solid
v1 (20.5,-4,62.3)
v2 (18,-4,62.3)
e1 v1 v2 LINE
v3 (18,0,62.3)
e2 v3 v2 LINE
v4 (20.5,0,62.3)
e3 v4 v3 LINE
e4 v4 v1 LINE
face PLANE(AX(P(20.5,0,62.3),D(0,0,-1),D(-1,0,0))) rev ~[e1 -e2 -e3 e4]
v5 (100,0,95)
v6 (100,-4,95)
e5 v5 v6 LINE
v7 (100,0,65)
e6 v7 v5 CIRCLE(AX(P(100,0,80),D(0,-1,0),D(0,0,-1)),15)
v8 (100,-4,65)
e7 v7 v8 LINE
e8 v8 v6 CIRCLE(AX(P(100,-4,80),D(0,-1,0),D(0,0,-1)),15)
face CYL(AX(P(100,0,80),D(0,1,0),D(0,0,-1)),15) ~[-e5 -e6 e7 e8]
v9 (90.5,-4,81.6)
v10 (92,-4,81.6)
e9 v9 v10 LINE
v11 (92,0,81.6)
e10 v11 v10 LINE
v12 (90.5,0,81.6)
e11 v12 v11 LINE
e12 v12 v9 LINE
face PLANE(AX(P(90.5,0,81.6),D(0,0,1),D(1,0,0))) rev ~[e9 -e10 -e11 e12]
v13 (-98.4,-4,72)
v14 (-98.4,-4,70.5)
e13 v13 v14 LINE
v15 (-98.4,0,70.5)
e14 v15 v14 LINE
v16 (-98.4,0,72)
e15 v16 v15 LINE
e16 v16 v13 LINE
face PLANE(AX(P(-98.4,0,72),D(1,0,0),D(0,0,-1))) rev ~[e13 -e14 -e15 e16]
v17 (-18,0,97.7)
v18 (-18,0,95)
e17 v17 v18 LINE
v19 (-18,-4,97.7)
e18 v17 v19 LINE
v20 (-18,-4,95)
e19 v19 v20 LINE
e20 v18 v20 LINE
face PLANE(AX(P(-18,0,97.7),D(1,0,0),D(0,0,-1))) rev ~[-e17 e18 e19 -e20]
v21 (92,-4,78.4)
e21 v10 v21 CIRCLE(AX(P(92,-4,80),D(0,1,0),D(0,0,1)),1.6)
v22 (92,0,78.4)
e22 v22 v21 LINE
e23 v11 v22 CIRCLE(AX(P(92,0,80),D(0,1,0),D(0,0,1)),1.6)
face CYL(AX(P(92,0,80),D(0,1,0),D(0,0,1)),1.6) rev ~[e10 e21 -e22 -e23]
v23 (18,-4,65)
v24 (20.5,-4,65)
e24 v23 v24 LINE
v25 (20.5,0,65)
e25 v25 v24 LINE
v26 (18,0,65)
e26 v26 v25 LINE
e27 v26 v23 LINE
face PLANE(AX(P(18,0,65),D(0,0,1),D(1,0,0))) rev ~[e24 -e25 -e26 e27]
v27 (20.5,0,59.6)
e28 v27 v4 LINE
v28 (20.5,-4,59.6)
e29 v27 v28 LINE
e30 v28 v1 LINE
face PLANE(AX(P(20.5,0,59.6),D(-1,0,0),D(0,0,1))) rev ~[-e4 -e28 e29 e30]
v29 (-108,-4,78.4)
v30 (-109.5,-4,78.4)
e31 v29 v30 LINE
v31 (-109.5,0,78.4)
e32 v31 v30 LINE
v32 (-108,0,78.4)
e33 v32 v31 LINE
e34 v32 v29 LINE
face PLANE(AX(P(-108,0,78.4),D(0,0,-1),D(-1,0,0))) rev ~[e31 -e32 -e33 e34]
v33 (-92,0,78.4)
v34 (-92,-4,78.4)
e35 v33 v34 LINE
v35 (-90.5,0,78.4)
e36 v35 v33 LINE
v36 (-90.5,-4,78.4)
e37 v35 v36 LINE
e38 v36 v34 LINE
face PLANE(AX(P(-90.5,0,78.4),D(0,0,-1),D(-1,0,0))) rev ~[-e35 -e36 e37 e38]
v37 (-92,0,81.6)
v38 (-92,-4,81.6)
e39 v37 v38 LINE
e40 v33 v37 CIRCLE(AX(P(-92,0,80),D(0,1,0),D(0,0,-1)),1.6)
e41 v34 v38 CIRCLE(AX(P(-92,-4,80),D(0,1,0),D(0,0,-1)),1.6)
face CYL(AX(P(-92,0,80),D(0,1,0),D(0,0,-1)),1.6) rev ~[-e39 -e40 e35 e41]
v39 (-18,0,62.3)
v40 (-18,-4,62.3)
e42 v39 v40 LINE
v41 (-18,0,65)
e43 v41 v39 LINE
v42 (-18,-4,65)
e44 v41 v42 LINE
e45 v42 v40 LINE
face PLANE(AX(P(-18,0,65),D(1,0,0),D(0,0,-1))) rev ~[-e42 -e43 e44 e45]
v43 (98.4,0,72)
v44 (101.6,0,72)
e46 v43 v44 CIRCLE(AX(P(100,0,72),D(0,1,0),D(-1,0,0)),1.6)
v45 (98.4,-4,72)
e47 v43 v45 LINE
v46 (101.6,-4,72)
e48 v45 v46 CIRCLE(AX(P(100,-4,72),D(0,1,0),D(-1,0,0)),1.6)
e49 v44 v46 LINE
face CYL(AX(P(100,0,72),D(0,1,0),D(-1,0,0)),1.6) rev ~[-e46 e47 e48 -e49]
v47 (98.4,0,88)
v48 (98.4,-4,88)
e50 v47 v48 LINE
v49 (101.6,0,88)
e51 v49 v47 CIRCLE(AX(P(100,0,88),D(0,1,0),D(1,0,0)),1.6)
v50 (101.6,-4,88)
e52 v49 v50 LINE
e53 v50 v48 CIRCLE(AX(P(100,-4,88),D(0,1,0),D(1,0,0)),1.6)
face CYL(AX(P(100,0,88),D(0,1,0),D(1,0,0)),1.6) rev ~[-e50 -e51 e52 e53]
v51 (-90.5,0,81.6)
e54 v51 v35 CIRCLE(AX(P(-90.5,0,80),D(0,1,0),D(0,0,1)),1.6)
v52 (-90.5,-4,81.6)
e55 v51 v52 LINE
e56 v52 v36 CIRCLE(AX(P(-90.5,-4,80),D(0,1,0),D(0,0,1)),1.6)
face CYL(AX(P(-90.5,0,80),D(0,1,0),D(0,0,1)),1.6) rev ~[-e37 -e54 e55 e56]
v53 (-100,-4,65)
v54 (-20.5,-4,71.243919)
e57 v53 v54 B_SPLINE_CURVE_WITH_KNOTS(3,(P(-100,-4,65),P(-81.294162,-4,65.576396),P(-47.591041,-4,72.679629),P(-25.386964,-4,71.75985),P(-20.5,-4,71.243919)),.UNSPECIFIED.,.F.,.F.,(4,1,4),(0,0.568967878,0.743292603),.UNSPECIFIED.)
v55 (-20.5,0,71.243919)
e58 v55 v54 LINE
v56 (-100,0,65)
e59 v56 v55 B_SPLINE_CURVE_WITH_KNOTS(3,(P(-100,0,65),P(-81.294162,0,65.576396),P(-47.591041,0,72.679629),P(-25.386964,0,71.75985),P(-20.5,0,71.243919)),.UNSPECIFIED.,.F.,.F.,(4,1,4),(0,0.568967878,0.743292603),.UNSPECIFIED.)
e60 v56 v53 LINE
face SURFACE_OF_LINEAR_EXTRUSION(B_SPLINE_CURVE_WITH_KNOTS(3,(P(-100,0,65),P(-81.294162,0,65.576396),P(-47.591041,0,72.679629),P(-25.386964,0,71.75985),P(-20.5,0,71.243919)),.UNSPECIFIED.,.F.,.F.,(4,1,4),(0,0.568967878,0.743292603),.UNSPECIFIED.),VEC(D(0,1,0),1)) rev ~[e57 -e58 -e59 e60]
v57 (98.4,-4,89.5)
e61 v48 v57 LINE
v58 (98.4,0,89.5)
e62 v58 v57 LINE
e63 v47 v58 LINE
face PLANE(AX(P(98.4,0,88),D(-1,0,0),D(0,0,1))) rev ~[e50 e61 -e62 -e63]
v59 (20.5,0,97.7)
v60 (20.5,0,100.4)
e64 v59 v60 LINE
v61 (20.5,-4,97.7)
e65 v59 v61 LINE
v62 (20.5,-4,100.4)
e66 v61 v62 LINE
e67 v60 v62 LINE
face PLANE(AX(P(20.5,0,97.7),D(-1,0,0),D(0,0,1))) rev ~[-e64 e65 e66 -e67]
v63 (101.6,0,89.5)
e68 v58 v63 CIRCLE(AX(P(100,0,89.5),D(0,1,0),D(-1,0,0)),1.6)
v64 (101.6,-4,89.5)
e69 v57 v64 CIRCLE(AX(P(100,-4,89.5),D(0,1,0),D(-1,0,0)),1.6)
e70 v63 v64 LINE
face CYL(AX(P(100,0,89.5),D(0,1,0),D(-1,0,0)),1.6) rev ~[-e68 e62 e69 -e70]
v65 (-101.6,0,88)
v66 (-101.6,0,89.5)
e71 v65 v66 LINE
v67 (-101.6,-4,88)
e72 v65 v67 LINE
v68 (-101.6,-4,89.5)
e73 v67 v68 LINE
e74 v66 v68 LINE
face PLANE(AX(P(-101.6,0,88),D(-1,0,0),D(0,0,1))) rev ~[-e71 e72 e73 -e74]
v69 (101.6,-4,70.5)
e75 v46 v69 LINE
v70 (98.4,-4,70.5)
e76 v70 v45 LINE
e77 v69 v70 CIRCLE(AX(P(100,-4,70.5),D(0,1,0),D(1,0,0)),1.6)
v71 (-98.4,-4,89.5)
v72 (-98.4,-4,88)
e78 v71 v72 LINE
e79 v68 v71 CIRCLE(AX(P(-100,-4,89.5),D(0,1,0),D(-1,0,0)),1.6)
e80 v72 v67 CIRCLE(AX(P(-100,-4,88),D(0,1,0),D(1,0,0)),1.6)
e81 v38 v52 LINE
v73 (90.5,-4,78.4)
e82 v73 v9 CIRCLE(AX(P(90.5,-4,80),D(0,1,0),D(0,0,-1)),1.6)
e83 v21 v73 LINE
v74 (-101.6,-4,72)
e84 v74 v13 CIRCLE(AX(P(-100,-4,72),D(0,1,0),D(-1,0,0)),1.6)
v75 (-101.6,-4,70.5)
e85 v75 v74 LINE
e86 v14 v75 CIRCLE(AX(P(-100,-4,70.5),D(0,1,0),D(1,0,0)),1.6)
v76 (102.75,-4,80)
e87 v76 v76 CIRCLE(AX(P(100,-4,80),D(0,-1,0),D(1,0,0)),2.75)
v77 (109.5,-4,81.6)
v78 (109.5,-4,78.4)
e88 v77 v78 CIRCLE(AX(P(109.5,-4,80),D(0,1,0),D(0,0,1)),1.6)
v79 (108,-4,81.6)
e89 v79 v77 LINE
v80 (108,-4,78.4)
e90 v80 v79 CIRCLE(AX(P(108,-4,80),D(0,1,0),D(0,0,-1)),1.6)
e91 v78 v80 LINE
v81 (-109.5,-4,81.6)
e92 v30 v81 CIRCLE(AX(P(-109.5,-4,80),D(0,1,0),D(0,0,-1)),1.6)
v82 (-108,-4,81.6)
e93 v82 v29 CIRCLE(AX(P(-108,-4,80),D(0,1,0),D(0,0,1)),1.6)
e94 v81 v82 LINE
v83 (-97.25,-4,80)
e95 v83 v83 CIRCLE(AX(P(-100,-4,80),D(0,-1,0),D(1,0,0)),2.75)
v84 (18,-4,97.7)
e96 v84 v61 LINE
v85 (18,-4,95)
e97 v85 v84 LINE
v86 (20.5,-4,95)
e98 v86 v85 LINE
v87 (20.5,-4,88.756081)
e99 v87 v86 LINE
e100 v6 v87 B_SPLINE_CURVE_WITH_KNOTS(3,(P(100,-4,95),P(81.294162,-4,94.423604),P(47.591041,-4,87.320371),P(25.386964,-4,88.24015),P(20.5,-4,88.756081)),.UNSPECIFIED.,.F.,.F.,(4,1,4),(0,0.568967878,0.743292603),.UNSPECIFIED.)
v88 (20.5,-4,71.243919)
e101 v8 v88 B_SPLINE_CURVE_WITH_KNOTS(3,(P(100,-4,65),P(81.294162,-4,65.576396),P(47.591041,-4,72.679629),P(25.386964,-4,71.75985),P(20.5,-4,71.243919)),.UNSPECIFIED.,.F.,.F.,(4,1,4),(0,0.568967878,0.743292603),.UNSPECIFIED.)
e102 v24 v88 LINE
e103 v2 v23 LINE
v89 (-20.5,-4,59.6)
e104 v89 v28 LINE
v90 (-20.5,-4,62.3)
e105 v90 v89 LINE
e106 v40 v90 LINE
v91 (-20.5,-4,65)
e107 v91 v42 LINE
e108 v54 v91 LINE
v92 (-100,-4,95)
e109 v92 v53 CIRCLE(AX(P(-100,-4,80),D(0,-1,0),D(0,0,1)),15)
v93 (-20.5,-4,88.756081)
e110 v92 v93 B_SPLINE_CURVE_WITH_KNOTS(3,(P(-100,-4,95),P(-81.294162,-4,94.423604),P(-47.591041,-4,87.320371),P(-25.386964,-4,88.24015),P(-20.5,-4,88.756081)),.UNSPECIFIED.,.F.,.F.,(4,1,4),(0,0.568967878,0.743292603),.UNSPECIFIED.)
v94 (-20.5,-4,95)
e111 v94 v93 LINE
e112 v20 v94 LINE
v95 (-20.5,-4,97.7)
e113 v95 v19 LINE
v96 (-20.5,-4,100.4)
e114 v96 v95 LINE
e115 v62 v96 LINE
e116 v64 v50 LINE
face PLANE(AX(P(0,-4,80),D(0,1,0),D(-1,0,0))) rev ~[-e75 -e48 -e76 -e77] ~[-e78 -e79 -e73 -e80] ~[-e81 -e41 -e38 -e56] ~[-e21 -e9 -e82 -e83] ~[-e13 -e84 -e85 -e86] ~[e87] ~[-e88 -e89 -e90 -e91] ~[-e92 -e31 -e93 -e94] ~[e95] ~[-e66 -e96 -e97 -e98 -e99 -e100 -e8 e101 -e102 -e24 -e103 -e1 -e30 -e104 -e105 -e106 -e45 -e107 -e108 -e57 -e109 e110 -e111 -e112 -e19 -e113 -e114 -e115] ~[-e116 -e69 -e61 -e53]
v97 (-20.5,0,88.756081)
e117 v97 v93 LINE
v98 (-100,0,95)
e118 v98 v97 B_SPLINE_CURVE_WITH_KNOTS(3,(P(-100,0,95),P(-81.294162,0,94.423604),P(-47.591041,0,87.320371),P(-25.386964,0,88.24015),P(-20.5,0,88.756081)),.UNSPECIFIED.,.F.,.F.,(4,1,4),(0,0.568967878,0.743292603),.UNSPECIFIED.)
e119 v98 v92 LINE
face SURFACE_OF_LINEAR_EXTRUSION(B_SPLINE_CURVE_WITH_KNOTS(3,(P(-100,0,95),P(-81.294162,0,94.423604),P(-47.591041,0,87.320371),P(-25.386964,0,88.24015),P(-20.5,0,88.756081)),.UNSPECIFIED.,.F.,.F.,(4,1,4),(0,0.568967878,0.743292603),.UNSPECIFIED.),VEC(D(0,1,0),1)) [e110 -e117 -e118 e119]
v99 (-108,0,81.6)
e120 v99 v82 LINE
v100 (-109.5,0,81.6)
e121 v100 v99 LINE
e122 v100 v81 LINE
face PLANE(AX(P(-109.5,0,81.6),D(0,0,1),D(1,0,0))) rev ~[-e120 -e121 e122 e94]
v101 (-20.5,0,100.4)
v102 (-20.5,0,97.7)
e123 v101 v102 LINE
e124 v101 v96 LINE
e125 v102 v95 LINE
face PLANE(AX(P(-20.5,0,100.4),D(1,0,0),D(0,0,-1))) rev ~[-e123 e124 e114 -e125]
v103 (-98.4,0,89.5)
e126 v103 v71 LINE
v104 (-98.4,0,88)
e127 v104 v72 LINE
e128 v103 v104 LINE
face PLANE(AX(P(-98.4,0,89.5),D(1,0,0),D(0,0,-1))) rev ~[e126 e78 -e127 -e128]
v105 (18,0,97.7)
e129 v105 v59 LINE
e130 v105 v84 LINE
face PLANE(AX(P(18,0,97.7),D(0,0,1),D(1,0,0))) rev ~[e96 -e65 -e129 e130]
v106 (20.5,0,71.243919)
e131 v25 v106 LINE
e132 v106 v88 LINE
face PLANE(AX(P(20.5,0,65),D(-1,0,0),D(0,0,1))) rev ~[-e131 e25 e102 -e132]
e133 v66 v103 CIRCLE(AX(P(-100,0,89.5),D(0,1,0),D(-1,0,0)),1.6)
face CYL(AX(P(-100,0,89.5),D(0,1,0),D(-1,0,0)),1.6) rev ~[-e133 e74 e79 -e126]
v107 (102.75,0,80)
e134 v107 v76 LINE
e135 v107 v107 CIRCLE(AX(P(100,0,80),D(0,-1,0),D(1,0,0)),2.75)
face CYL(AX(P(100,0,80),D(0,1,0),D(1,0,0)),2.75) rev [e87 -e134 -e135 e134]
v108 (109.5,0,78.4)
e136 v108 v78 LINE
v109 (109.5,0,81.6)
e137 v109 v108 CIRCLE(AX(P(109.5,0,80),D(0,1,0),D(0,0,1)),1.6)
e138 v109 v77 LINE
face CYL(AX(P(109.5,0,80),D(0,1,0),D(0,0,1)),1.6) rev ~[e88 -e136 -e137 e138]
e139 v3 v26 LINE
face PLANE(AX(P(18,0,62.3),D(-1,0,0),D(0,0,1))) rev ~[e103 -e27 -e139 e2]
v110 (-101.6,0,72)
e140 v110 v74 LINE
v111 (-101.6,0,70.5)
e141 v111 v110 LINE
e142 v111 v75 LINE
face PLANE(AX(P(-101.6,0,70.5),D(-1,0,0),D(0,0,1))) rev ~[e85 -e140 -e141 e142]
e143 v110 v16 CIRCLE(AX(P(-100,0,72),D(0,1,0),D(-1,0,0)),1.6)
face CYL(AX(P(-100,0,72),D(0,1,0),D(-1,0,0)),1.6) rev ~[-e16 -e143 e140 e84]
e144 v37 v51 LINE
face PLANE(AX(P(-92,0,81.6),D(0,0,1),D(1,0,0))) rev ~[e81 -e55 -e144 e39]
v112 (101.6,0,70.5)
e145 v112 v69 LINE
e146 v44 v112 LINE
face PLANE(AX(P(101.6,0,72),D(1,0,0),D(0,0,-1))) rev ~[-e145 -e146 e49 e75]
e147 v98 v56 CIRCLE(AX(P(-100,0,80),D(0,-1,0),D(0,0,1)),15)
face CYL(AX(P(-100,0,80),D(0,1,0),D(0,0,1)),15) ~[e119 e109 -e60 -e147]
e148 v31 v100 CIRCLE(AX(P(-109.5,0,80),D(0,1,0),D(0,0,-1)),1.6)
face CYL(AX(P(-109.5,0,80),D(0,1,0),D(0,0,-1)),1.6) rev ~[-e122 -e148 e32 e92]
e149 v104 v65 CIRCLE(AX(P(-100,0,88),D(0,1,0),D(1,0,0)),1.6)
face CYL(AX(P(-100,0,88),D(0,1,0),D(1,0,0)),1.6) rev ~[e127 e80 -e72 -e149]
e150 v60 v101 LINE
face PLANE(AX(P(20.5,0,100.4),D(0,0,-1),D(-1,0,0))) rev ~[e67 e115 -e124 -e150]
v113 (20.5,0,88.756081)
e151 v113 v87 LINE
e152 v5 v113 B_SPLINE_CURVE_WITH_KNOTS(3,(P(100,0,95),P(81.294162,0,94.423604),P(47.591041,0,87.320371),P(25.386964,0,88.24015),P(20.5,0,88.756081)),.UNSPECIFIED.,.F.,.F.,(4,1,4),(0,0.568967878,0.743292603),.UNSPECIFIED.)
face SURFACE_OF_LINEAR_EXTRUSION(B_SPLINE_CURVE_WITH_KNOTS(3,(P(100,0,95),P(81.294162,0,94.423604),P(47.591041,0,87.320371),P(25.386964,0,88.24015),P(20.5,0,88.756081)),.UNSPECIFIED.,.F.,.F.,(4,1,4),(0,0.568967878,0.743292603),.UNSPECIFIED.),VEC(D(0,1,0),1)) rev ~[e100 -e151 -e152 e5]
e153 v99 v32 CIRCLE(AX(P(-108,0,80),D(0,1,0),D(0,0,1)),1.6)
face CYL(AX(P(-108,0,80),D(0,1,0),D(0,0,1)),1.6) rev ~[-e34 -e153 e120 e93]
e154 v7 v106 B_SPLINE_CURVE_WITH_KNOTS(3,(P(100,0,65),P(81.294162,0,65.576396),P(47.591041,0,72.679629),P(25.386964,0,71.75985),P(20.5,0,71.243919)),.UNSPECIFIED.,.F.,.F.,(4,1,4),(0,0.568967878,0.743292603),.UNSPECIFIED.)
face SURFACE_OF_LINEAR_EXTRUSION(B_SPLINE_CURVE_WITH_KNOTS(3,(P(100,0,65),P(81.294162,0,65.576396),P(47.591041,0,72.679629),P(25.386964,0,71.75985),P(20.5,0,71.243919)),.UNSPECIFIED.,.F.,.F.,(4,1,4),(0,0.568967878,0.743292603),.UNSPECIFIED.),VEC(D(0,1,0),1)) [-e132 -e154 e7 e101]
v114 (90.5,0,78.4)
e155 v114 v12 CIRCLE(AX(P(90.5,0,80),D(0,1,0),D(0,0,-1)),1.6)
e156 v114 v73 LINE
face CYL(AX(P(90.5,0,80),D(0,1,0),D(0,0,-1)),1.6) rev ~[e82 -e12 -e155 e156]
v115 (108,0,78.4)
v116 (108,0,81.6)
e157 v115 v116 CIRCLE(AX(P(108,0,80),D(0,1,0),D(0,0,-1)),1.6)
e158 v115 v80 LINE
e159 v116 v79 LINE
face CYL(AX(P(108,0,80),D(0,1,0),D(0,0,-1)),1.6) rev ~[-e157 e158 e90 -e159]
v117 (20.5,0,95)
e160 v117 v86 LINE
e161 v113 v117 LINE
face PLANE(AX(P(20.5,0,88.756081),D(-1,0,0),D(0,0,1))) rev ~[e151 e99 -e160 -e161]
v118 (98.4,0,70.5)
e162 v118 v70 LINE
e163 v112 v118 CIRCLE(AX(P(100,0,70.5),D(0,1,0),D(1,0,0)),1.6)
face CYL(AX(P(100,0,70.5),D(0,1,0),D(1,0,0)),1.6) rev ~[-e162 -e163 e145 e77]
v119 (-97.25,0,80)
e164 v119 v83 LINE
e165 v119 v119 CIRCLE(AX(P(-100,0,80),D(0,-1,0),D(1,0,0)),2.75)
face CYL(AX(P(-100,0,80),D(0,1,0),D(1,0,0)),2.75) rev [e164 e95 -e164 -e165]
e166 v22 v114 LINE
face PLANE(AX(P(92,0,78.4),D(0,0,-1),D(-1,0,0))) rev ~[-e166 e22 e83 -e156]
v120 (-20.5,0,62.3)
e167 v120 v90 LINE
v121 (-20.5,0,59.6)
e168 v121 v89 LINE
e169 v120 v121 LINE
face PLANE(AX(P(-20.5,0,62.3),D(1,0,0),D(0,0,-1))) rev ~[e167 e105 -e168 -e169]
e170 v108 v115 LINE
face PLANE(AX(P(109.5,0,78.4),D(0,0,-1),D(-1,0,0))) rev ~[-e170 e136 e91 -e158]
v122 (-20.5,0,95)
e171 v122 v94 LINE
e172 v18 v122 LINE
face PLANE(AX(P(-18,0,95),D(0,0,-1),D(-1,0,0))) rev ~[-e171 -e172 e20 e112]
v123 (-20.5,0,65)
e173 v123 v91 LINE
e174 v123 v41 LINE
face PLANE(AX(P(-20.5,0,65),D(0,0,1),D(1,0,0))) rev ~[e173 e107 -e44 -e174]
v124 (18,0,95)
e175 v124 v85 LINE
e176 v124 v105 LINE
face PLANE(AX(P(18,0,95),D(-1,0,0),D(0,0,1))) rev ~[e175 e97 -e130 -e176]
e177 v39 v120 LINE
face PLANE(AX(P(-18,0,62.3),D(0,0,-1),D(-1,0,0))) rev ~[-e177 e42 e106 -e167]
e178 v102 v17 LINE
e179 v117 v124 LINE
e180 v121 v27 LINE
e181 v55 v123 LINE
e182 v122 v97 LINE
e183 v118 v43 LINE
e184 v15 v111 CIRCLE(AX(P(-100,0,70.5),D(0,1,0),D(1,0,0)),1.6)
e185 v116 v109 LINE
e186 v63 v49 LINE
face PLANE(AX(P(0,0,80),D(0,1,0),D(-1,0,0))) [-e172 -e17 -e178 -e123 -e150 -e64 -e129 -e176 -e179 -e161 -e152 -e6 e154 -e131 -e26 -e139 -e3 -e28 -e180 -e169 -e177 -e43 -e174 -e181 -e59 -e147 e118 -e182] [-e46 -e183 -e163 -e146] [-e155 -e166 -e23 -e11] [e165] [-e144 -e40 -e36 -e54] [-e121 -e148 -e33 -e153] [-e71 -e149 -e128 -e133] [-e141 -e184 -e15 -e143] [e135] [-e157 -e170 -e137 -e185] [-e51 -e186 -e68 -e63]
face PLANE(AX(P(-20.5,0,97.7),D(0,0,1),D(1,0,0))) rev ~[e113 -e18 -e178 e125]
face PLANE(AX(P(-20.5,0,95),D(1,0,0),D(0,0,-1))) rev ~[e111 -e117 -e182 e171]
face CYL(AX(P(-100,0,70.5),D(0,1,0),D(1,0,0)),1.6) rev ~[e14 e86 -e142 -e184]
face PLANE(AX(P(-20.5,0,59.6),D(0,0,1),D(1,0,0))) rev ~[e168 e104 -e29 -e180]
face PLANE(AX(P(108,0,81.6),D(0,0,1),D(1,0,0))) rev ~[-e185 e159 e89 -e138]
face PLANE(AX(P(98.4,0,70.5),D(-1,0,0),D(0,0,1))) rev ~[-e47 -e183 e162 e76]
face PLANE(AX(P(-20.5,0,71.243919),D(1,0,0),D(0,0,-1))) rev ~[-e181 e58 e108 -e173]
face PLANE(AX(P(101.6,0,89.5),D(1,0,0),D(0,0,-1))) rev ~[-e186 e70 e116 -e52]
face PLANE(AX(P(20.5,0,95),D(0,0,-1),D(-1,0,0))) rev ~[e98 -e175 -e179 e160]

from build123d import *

# Parameters (mm, degrees)
F0_R     = 2.75
F1_DEPTH = 4


with BuildPart() as f1:
    # F0 (on Front) → F1 (new body)
    with BuildSketch(Plane.XZ):
        with BuildLine():
            add(Edge.make_bspline(
                [(-100, 95), (-81.2941622631, 94.4236036805), (-47.5910411734, 87.3203708431), (-25.3869639524, 88.2401502703), (-20.5, 88.75608063)],
                knots=[0, 0, 0, 0, 0.5689678783, 0.7432926029, 0.7432926029, 0.7432926029, 0.7432926029], degree=3))
            ThreePointArc((-100, 95), (-115, 80), (-100, 65))
            add(Edge.make_bspline(
                [(-100, 65), (-81.2941622631, 65.5763963195), (-47.5910411734, 72.6796291569), (-25.3869639524, 71.7598497297), (-20.5, 71.24391937)],
                knots=[0, 0, 0, 0, 0.5689678783, 0.7432926029, 0.7432926029, 0.7432926029, 0.7432926029], degree=3))
            add(Edge.make_bspline(
                [(-20.5, 71.24391937), (-19.6576755147, 71.1549928343), (-18.8248746074, 71.0571473907), (-18, 70.9511054936)],
                knots=[0.7432926029, 0.7432926029, 0.7432926029, 0.7432926029, 0.7733394757, 0.7733394757, 0.7733394757, 0.7733394757], degree=3))
            add(Edge.make_bspline(
                [(-18, 70.9511054936), (-11.7775051442, 70.1511715966), (-6.006059288, 68.884815508), (0, 67.4621646617)],
                knots=[0.7733394757, 0.7733394757, 0.7733394757, 0.7733394757, 1, 1, 1, 1], degree=3))
            add(Edge.make_bspline(
                [(18, 70.9511054936), (11.7775051442, 70.1511715966), (6.006059288, 68.884815508), (0, 67.4621646617)],
                knots=[0.7733394757, 0.7733394757, 0.7733394757, 0.7733394757, 1, 1, 1, 1], degree=3))
            add(Edge.make_bspline(
                [(20.5, 71.24391937), (19.6576755147, 71.1549928343), (18.8248746074, 71.0571473907), (18, 70.9511054936)],
                knots=[0.7432926029, 0.7432926029, 0.7432926029, 0.7432926029, 0.7733394757, 0.7733394757, 0.7733394757, 0.7733394757], degree=3))
            add(Edge.make_bspline(
                [(100, 65), (81.2941622631, 65.5763963195), (47.5910411734, 72.6796291569), (25.3869639524, 71.7598497297), (20.5, 71.24391937)],
                knots=[0, 0, 0, 0, 0.5689678783, 0.7432926029, 0.7432926029, 0.7432926029, 0.7432926029], degree=3))
            ThreePointArc((100, 65), (115, 80), (100, 95))
            add(Edge.make_bspline(
                [(100, 95), (81.2941622631, 94.4236036805), (47.5910411734, 87.3203708431), (25.3869639524, 88.2401502703), (20.5, 88.75608063)],
                knots=[0, 0, 0, 0, 0.5689678783, 0.7432926029, 0.7432926029, 0.7432926029, 0.7432926029], degree=3))
            add(Edge.make_bspline(
                [(20.5, 88.75608063), (19.6576755147, 88.8450071657), (18.8248746074, 88.9428526093), (18, 89.0488945064)],
                knots=[0.7432926029, 0.7432926029, 0.7432926029, 0.7432926029, 0.7733394757, 0.7733394757, 0.7733394757, 0.7733394757], degree=3))
            add(Edge.make_bspline(
                [(18, 89.0488945064), (11.7775051442, 89.8488284034), (6.006059288, 91.115184492), (0, 92.5378353383)],
                knots=[0.7733394757, 0.7733394757, 0.7733394757, 0.7733394757, 1, 1, 1, 1], degree=3))
            add(Edge.make_bspline(
                [(-18, 89.0488945064), (-11.7775051442, 89.8488284034), (-6.006059288, 91.115184492), (0, 92.5378353383)],
                knots=[0.7733394757, 0.7733394757, 0.7733394757, 0.7733394757, 1, 1, 1, 1], degree=3))
            add(Edge.make_bspline(
                [(-20.5, 88.75608063), (-19.6576755147, 88.8450071657), (-18.8248746074, 88.9428526093), (-18, 89.0488945064)],
                knots=[0.7432926029, 0.7432926029, 0.7432926029, 0.7432926029, 0.7733394757, 0.7733394757, 0.7733394757, 0.7733394757], degree=3))
        make_face()
        with BuildLine():
            Line((-98.4, 72), (-98.4, 70.5))
            ThreePointArc((-98.4, 70.5), (-100, 68.9), (-101.6, 70.5))
            Line((-101.6, 70.5), (-101.6, 72))
            ThreePointArc((-101.6, 72), (-100, 73.6), (-98.4, 72))
        make_face(mode=Mode.SUBTRACT)
        with BuildLine():
            ThreePointArc((-109.5, 78.4), (-111.1, 80), (-109.5, 81.6))
            Line((-109.5, 81.6), (-108, 81.6))
            ThreePointArc((-108, 81.6), (-106.4, 80), (-108, 78.4))
            Line((-108, 78.4), (-109.5, 78.4))
        make_face(mode=Mode.SUBTRACT)
        with Locations((-100, 80)):
            Circle(F0_R, mode=Mode.SUBTRACT)
        with BuildLine():
            Line((-90.5, 78.4), (-92, 78.4))
            ThreePointArc((-92, 78.4), (-93.6, 80), (-92, 81.6))
            Line((-92, 81.6), (-90.5, 81.6))
            ThreePointArc((-90.5, 81.6), (-88.9, 80), (-90.5, 78.4))
        make_face(mode=Mode.SUBTRACT)
        with BuildLine():
            Line((101.6, 72), (101.6, 70.5))
            ThreePointArc((101.6, 70.5), (100, 68.9), (98.4, 70.5))
            Line((98.4, 70.5), (98.4, 72))
            ThreePointArc((98.4, 72), (100, 73.6), (101.6, 72))
        make_face(mode=Mode.SUBTRACT)
        with BuildLine():
            ThreePointArc((90.5, 78.4), (88.9, 80), (90.5, 81.6))
            Line((90.5, 81.6), (92, 81.6))
            ThreePointArc((92, 81.6), (93.6, 80), (92, 78.4))
            Line((92, 78.4), (90.5, 78.4))
        make_face(mode=Mode.SUBTRACT)
        with Locations((100, 80)):
            Circle(F0_R, mode=Mode.SUBTRACT)
        with BuildLine():
            Line((109.5, 78.4), (108, 78.4))
            ThreePointArc((108, 78.4), (106.4, 80), (108, 81.6))
            Line((108, 81.6), (109.5, 81.6))
            ThreePointArc((109.5, 81.6), (111.1, 80), (109.5, 78.4))
        make_face(mode=Mode.SUBTRACT)
        with BuildLine():
            ThreePointArc((-101.6, 89.5), (-100, 91.1), (-98.4, 89.5))
            Line((-98.4, 89.5), (-98.4, 88))
            ThreePointArc((-98.4, 88), (-100, 86.4), (-101.6, 88))
            Line((-101.6, 88), (-101.6, 89.5))
        make_face(mode=Mode.SUBTRACT)
        with BuildLine():
            Line((98.4, 88), (98.4, 89.5))
            ThreePointArc((98.4, 89.5), (100, 91.1), (101.6, 89.5))
            Line((101.6, 89.5), (101.6, 88))
            ThreePointArc((101.6, 88), (100, 86.4), (98.4, 88))
        make_face(mode=Mode.SUBTRACT)
        with BuildLine():
            Line((-20.5, 95), (-20.5, 88.75608063))
            add(Edge.make_bspline(
                [(-20.5, 88.75608063), (-19.6576755147, 88.8450071657), (-18.8248746074, 88.9428526093), (-18, 89.0488945064)],
                knots=[0.7432926029, 0.7432926029, 0.7432926029, 0.7432926029, 0.7733394757, 0.7733394757, 0.7733394757, 0.7733394757], degree=3))
            Line((-18, 89.0488945064), (-18, 95))
            Line((-18, 95), (-20.5, 95))
        make_face()
        with BuildLine():
            add(Edge.make_bspline(
                [(-20.5, 71.24391937), (-19.6576755147, 71.1549928343), (-18.8248746074, 71.0571473907), (-18, 70.9511054936)],
                knots=[0.7432926029, 0.7432926029, 0.7432926029, 0.7432926029, 0.7733394757, 0.7733394757, 0.7733394757, 0.7733394757], degree=3))
            Line((-20.5, 71.24391937), (-20.5, 65))
            Line((-20.5, 65), (-18, 65))
            Line((-18, 65), (-18, 70.9511054936))
        make_face()
        with BuildLine():
            Line((-18, 95), (-18, 89.0488945064))
            add(Edge.make_bspline(
                [(-18, 89.0488945064), (-11.7775051442, 89.8488284034), (-6.006059288, 91.115184492), (0, 92.5378353383)],
                knots=[0.7733394757, 0.7733394757, 0.7733394757, 0.7733394757, 1, 1, 1, 1], degree=3))
            add(Edge.make_bspline(
                [(18, 89.0488945064), (11.7775051442, 89.8488284034), (6.006059288, 91.115184492), (0, 92.5378353383)],
                knots=[0.7733394757, 0.7733394757, 0.7733394757, 0.7733394757, 1, 1, 1, 1], degree=3))
            Line((18, 89.0488945064), (18, 95))
            Line((18, 95), (18, 97.7))
            Line((18, 97.7), (20.5, 97.7))
            Line((20.5, 97.7), (20.5, 100.4))
            Line((20.5, 100.4), (-20.5, 100.4))
            Line((-20.5, 100.4), (-20.5, 97.7))
            Line((-20.5, 97.7), (-18, 97.7))
            Line((-18, 97.7), (-18, 95))
        make_face()
        with BuildLine():
            add(Edge.make_bspline(
                [(-18, 70.9511054936), (-11.7775051442, 70.1511715966), (-6.006059288, 68.884815508), (0, 67.4621646617)],
                knots=[0.7733394757, 0.7733394757, 0.7733394757, 0.7733394757, 1, 1, 1, 1], degree=3))
            Line((-18, 70.9511054936), (-18, 65))
            Line((-18, 65), (-18, 62.3))
            Line((-18, 62.3), (-20.5, 62.3))
            Line((-20.5, 62.3), (-20.5, 59.6))
            Line((-20.5, 59.6), (20.5, 59.6))
            Line((20.5, 59.6), (20.5, 62.3))
            Line((20.5, 62.3), (18, 62.3))
            Line((18, 62.3), (18, 65))
            Line((18, 65), (18, 70.9511054936))
            add(Edge.make_bspline(
                [(18, 70.9511054936), (11.7775051442, 70.1511715966), (6.006059288, 68.884815508), (0, 67.4621646617)],
                knots=[0.7733394757, 0.7733394757, 0.7733394757, 0.7733394757, 1, 1, 1, 1], degree=3))
        make_face()
        with BuildLine():
            Line((18, 95), (18, 89.0488945064))
            add(Edge.make_bspline(
                [(20.5, 88.75608063), (19.6576755147, 88.8450071657), (18.8248746074, 88.9428526093), (18, 89.0488945064)],
                knots=[0.7432926029, 0.7432926029, 0.7432926029, 0.7432926029, 0.7733394757, 0.7733394757, 0.7733394757, 0.7733394757], degree=3))
            Line((20.5, 88.75608063), (20.5, 95))
            Line((20.5, 95), (18, 95))
        make_face()
        with BuildLine():
            add(Edge.make_bspline(
                [(20.5, 71.24391937), (19.6576755147, 71.1549928343), (18.8248746074, 71.0571473907), (18, 70.9511054936)],
                knots=[0.7432926029, 0.7432926029, 0.7432926029, 0.7432926029, 0.7733394757, 0.7733394757, 0.7733394757, 0.7733394757], degree=3))
            Line((18, 70.9511054936), (18, 65))
            Line((18, 65), (20.5, 65))
            Line((20.5, 65), (20.5, 71.24391937))
        make_face()
    extrude(amount=F1_DEPTH)


solid = f1.part
